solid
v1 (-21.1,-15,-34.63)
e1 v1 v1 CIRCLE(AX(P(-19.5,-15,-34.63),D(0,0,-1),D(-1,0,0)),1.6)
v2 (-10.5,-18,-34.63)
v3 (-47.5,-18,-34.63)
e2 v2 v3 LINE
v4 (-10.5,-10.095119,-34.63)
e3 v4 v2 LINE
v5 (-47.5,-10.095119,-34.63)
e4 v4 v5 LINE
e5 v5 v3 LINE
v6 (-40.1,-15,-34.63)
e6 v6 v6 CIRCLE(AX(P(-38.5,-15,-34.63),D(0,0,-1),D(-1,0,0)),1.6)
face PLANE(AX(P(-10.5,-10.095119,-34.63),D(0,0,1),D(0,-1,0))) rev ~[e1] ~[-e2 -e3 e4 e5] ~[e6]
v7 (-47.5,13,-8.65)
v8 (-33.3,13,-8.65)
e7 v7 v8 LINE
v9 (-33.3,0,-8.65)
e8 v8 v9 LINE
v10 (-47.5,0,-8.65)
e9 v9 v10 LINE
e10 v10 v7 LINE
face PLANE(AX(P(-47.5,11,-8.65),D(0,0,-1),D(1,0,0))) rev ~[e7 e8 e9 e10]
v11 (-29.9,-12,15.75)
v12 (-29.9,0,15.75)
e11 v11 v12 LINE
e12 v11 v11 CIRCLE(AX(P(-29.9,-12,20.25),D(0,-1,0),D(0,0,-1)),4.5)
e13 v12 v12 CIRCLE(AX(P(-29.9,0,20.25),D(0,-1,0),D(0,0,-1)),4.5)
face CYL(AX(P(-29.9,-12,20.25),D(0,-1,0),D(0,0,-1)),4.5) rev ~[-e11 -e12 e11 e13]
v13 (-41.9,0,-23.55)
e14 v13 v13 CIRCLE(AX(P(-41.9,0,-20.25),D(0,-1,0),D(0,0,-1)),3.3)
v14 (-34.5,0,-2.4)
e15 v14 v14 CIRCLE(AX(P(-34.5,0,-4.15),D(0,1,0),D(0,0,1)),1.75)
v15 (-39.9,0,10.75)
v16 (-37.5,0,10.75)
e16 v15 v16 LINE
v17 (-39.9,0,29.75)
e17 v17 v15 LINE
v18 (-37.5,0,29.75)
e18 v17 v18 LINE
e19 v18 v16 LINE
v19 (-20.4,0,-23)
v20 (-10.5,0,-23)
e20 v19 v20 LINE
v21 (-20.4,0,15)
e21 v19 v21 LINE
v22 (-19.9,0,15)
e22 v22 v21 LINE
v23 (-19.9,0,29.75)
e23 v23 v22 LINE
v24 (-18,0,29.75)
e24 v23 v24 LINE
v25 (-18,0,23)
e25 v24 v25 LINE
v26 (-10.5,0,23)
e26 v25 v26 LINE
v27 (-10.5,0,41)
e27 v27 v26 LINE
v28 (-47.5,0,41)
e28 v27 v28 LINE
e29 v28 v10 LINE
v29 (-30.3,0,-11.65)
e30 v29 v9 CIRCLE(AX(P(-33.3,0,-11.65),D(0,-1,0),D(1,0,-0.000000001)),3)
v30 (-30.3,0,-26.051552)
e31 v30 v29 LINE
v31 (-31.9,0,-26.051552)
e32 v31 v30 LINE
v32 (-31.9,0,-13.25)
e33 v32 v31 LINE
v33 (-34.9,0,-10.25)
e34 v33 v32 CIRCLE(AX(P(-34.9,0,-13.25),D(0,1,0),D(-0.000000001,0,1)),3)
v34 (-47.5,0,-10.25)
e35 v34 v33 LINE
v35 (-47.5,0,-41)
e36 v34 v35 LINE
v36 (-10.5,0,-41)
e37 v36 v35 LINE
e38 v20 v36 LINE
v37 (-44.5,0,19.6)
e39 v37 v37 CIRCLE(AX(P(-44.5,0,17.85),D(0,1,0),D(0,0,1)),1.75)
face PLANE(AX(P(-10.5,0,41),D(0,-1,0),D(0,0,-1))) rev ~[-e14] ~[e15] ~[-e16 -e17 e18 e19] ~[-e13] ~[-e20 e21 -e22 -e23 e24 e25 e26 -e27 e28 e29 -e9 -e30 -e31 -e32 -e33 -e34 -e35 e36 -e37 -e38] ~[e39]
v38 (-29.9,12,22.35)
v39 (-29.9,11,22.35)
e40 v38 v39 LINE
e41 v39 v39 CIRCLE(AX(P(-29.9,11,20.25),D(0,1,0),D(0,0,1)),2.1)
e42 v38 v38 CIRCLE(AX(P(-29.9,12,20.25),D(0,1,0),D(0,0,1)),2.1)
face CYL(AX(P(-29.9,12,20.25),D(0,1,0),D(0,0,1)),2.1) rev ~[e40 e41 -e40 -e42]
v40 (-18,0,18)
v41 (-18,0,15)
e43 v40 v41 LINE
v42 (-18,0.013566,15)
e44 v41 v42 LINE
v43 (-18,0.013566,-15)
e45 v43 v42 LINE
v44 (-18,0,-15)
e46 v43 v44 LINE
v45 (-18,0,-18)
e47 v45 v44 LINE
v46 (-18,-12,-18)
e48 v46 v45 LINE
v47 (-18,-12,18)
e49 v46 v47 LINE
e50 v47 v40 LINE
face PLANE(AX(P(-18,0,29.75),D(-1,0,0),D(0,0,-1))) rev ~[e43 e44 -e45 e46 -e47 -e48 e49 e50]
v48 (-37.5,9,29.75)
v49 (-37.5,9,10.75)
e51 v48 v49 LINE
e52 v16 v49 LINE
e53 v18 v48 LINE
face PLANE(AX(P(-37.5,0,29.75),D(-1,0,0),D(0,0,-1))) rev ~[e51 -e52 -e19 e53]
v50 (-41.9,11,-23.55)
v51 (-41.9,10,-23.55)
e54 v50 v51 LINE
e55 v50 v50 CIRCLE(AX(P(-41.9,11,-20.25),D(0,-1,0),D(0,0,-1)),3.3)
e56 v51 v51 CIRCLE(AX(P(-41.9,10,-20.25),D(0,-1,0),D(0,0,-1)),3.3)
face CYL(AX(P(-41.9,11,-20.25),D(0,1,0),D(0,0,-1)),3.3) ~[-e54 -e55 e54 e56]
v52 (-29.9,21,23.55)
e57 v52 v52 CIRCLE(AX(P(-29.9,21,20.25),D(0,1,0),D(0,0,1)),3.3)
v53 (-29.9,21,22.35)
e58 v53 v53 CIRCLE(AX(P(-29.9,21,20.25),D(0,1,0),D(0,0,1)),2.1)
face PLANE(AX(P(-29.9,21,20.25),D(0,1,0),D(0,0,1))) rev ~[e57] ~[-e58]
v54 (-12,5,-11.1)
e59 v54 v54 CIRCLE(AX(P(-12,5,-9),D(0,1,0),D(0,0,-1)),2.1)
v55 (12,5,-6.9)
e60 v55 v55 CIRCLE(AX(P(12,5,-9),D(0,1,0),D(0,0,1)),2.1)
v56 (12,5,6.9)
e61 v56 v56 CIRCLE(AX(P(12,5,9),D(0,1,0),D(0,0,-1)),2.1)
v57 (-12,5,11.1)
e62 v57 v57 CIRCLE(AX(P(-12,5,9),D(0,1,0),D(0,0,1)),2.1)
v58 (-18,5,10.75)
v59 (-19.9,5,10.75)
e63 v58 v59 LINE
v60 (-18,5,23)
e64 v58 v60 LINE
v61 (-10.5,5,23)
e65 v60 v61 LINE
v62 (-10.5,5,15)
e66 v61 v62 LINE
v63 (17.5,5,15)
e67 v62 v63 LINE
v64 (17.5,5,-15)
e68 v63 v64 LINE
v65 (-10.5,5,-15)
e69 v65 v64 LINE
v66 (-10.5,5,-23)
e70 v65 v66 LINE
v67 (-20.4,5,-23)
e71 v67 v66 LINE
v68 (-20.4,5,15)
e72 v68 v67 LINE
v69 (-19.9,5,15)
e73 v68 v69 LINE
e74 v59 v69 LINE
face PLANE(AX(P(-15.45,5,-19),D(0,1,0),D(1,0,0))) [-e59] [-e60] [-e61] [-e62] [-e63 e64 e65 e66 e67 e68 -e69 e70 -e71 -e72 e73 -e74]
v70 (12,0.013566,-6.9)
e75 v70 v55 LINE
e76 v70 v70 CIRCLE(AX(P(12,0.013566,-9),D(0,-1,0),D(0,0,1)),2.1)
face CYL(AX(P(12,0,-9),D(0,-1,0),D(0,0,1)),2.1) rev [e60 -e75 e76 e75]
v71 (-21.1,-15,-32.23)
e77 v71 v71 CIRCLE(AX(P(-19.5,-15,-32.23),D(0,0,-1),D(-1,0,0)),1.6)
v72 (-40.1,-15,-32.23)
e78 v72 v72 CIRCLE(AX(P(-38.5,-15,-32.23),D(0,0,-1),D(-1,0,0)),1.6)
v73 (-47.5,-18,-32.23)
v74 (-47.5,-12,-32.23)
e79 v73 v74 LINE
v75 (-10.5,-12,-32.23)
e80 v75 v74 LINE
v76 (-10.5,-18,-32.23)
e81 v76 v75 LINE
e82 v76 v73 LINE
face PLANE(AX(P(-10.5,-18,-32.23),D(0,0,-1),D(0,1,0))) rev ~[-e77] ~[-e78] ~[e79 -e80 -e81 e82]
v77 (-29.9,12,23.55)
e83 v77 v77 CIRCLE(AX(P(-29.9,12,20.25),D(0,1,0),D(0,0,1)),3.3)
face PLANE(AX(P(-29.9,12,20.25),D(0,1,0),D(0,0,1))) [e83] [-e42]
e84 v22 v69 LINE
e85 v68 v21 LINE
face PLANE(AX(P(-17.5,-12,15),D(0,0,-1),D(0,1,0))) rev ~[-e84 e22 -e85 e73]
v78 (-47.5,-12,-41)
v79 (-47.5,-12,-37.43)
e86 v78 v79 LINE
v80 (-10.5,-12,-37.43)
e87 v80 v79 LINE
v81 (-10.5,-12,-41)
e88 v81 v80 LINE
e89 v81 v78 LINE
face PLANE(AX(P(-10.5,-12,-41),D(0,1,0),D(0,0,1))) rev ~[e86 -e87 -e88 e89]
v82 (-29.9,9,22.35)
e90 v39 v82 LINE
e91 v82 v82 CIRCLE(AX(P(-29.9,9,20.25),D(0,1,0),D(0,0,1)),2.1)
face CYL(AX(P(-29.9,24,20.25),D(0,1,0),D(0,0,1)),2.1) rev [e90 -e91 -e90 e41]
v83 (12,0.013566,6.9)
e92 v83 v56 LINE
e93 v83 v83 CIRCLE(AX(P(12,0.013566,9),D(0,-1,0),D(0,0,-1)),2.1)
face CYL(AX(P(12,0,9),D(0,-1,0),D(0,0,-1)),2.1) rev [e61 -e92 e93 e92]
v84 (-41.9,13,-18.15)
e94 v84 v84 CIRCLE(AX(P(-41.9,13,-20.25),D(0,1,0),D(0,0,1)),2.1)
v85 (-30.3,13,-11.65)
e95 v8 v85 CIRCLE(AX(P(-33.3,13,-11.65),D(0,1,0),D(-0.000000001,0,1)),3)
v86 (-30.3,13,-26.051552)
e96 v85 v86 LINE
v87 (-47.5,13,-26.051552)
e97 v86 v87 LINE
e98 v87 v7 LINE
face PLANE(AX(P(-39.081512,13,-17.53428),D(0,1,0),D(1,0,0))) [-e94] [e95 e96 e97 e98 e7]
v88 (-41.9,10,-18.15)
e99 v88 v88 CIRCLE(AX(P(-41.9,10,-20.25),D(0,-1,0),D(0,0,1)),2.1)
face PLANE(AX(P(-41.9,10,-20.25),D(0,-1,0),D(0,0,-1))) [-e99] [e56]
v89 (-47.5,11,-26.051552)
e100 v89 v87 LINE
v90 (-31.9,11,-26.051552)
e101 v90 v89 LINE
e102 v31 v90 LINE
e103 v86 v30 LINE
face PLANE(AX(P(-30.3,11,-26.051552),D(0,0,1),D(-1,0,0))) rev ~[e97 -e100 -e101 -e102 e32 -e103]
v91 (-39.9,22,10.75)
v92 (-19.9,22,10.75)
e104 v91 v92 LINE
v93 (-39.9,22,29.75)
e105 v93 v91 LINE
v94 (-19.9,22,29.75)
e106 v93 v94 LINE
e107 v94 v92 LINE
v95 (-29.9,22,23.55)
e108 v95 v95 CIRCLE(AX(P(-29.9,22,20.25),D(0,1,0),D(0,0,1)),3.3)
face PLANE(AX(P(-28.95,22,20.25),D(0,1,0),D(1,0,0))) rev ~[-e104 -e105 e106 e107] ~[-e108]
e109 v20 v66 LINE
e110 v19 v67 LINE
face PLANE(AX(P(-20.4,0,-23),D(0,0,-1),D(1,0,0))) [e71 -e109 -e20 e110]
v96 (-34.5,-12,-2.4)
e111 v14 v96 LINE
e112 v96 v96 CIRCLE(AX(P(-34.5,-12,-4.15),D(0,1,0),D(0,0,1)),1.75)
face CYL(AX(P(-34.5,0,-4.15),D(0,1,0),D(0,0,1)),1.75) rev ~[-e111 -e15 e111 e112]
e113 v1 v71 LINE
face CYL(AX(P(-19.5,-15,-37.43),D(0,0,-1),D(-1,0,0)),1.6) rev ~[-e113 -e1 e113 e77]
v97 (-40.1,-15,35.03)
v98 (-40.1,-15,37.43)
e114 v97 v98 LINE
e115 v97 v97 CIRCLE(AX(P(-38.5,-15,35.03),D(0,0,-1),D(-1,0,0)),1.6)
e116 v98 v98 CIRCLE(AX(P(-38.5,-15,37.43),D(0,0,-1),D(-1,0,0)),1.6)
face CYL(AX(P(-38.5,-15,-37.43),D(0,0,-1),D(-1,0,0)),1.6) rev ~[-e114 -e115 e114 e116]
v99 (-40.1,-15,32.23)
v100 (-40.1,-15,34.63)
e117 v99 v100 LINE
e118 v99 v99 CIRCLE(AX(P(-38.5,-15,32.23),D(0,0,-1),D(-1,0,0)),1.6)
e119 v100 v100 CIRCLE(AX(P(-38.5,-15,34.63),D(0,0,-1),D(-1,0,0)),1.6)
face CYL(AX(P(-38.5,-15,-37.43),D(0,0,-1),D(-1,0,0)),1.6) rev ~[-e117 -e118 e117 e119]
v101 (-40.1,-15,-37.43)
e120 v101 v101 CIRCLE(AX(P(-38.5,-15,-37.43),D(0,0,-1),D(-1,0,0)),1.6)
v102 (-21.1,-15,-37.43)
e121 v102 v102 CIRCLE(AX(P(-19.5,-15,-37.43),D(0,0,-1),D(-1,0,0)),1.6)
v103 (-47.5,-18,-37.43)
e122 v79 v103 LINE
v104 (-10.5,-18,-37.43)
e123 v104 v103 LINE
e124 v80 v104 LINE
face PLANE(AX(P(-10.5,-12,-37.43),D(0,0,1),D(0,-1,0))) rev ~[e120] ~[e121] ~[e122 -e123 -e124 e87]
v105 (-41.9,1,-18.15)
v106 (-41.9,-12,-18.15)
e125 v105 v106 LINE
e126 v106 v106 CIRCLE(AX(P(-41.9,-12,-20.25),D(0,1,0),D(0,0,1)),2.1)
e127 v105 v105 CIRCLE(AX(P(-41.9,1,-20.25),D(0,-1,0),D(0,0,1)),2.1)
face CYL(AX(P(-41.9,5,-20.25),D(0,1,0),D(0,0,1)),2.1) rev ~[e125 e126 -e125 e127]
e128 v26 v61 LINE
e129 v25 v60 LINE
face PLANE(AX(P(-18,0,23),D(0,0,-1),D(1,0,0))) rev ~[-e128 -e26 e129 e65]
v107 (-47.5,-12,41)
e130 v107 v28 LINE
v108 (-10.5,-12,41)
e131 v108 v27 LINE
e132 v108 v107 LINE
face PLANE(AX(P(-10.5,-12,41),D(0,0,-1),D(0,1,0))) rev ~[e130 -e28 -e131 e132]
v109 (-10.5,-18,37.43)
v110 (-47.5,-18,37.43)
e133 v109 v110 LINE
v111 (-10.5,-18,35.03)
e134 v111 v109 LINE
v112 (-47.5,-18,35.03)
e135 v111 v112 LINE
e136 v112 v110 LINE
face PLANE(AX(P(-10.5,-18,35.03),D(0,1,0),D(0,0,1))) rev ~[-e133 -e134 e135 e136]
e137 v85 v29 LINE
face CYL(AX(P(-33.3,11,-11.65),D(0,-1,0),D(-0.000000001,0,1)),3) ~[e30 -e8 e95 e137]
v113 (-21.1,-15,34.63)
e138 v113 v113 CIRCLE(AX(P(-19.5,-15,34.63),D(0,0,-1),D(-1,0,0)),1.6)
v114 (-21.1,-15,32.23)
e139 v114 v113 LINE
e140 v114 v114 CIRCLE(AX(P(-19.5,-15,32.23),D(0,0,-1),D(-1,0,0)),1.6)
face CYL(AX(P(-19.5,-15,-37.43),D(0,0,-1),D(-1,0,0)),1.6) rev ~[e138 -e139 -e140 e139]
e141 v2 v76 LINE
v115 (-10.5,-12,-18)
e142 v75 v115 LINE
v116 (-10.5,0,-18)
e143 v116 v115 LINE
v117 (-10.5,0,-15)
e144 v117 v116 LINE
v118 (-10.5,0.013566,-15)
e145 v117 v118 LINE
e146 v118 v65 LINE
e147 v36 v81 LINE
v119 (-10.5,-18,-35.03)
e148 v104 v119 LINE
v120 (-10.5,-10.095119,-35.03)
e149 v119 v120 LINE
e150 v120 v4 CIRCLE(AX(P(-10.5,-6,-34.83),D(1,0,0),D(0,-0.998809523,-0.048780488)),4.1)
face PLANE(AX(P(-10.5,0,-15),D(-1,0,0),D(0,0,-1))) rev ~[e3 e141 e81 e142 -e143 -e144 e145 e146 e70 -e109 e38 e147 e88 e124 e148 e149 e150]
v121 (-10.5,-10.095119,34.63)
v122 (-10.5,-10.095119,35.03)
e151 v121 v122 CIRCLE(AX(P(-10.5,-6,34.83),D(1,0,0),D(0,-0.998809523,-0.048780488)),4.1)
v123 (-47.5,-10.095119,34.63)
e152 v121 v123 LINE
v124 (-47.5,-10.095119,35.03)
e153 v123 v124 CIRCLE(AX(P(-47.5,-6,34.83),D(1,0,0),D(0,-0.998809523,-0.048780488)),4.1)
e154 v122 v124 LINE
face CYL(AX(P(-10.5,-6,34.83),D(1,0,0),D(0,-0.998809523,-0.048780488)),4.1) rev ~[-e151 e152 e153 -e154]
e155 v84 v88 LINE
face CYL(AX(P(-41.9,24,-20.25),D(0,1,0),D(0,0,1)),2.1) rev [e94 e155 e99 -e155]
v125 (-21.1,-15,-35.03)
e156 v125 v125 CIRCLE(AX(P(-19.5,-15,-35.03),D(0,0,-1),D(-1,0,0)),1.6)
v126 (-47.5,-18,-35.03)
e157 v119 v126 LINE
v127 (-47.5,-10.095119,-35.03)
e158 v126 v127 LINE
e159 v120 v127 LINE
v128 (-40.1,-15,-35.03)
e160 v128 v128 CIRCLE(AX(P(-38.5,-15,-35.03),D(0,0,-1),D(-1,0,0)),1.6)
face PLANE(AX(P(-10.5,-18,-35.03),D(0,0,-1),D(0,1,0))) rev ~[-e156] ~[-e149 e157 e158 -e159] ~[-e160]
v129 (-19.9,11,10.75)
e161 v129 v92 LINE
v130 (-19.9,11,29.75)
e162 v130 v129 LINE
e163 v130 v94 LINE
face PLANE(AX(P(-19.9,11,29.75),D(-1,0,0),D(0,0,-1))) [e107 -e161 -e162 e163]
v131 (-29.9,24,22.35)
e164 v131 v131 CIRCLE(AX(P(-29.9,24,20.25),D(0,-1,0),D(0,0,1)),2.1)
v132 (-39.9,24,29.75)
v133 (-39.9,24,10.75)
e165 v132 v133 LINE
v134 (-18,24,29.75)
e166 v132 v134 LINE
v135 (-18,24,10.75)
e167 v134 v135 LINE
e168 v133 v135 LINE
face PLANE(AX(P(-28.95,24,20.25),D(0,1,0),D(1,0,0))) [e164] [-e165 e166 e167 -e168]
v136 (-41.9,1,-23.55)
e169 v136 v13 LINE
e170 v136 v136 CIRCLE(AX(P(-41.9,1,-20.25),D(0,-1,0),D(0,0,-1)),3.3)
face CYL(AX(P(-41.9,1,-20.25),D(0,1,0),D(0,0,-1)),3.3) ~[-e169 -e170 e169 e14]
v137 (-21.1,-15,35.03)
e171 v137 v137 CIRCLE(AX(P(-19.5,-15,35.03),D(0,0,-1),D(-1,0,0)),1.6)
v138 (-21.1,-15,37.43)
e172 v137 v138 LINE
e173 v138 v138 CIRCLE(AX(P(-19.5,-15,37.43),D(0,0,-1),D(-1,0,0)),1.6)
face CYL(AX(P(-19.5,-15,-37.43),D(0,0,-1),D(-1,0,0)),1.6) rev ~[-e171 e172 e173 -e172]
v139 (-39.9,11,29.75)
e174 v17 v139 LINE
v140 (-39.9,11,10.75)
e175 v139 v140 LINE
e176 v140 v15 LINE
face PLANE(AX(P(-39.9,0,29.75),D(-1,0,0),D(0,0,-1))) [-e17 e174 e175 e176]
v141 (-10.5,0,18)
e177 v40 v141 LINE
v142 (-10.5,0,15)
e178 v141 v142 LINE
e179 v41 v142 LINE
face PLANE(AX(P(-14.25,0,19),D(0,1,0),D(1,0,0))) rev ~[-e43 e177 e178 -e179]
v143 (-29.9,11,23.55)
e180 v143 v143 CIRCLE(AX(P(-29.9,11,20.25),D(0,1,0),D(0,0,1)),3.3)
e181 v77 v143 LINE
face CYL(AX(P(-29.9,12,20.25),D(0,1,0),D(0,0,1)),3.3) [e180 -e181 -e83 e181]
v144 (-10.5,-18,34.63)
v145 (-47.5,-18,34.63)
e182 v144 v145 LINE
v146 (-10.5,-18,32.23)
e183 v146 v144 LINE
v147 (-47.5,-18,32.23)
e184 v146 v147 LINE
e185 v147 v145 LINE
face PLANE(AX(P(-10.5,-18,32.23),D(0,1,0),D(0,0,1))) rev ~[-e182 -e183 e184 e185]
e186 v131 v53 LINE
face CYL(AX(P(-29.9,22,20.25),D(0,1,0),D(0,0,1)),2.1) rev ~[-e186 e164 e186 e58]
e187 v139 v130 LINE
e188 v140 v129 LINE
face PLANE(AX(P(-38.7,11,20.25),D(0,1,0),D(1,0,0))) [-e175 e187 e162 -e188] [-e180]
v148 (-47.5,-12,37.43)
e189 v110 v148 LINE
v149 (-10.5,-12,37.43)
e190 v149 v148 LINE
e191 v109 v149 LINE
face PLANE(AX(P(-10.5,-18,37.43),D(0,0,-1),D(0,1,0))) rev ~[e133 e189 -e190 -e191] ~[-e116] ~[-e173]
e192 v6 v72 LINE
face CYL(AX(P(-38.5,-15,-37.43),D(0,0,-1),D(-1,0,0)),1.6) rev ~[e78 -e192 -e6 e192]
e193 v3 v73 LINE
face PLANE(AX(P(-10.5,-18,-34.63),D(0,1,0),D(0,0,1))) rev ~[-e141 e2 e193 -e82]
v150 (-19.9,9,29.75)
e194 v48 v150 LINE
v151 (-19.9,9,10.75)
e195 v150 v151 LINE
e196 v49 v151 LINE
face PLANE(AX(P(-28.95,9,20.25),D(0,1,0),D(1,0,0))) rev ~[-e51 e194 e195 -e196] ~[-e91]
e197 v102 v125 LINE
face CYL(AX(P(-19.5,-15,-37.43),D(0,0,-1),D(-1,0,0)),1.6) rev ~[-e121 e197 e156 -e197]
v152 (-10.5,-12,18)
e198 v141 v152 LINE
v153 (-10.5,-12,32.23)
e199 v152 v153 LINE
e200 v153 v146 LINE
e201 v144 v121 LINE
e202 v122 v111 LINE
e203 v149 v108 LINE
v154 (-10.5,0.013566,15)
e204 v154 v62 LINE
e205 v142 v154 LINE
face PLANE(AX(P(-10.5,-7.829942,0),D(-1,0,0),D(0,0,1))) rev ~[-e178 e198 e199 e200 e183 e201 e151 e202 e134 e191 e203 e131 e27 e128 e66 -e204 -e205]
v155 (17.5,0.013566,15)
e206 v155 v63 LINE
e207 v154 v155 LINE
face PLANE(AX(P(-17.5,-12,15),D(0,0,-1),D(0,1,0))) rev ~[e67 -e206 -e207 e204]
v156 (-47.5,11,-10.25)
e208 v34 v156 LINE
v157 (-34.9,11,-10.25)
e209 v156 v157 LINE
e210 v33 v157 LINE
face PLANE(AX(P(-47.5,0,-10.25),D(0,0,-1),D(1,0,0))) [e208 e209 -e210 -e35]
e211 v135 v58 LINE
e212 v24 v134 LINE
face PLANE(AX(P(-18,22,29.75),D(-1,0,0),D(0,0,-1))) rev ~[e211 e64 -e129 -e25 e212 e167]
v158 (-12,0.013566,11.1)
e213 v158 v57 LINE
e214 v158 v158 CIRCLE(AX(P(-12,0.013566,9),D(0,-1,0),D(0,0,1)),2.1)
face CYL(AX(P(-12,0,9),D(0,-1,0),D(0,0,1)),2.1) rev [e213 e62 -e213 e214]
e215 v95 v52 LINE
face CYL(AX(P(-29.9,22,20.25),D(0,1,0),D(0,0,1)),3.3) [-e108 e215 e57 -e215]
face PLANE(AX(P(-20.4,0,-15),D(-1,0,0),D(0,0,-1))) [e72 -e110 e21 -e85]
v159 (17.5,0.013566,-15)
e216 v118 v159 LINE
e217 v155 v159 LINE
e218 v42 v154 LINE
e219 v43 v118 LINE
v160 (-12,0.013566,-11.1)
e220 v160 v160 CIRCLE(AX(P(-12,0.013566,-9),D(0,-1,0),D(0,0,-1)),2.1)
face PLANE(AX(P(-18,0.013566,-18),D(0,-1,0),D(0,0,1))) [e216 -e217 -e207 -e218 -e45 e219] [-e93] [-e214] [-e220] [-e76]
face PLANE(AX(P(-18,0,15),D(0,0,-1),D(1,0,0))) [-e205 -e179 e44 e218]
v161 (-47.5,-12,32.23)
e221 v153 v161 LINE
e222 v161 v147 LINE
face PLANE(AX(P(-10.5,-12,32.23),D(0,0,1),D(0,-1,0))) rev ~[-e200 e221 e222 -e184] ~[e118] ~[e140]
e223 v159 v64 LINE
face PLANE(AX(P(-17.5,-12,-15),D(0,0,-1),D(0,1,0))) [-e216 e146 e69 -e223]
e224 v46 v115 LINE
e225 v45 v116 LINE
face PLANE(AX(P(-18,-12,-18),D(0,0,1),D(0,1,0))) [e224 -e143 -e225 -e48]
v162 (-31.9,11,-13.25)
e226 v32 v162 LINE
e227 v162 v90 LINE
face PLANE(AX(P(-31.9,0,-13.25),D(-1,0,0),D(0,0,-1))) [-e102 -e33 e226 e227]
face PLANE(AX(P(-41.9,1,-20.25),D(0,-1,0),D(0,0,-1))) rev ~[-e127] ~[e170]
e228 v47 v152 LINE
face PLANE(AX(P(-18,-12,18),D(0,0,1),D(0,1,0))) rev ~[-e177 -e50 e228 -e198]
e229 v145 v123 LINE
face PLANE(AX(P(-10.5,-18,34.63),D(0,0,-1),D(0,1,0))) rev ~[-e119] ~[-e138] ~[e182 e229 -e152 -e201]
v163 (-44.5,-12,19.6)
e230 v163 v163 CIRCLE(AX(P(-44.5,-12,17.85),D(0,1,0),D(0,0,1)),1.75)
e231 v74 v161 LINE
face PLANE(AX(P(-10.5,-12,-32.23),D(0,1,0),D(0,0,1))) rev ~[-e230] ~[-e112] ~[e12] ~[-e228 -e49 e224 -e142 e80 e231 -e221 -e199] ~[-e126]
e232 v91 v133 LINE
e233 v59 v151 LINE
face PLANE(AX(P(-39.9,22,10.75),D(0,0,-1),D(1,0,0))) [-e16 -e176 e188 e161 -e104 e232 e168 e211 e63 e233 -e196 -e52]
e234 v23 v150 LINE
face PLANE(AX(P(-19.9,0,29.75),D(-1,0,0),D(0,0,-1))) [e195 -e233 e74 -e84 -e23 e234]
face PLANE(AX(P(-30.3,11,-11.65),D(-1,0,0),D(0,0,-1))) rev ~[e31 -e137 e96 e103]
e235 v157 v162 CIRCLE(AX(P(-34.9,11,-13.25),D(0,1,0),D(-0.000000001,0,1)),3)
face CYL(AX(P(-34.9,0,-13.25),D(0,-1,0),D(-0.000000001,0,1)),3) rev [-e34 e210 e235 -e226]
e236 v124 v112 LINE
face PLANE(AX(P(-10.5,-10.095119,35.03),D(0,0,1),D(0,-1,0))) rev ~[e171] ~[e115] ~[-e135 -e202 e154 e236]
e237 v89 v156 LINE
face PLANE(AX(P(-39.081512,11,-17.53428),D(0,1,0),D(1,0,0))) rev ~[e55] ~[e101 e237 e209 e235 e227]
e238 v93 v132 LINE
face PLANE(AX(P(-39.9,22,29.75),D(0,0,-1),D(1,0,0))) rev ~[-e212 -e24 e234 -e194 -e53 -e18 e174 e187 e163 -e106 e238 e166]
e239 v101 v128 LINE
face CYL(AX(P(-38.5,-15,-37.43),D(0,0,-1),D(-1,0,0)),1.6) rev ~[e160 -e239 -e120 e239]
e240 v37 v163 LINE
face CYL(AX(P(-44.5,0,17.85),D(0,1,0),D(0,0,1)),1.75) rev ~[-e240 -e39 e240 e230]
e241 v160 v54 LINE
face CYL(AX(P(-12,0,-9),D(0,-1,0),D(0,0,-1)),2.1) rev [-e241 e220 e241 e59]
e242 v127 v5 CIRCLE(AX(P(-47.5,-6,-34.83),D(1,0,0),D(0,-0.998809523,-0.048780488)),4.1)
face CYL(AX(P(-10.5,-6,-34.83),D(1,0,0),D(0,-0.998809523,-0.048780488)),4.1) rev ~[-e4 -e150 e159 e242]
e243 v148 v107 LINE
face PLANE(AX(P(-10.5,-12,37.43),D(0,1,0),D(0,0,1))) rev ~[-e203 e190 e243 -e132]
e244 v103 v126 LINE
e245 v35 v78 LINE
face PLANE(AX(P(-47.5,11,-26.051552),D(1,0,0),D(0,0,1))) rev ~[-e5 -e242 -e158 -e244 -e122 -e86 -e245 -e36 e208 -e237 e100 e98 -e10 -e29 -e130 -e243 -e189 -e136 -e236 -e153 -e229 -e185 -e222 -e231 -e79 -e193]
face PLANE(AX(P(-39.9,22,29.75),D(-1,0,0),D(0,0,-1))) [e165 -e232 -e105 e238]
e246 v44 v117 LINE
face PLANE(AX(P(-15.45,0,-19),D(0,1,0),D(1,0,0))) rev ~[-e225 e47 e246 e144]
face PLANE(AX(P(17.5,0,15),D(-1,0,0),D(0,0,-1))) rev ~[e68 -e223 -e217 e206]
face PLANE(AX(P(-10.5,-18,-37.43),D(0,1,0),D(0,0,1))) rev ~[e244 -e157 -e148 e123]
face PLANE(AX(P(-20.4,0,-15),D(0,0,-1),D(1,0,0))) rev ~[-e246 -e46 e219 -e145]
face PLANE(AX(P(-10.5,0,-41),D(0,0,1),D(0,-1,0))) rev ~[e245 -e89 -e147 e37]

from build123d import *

# Parameters (mm, degrees)
SKETCH1_W            = 35
SKETCH1_H            = 30
SKETCH1_R            = 2.1
BOSS_EXTRUDE1_DEPTH  = 5
SKETCH2_W            = 30
SKETCH2_H            = 17
BOSS_EXTRUDE2_DEPTH  = 5
BOSS_EXTRUDE3_START  = -28
BOSS_EXTRUDE3_DEPTH  = 37
CUT_EXTRUDE1_REACH   = 66.542
CUT_EXTRUDE1_START   = -4.5
SKETCH5_W            = 36
SKETCH5_H            = 12.013565991
SKETCH6_W            = 2.1
SKETCH6_H            = 35.25
CUT_EXTRUDE2_DEPTH   = 5
SKETCH7_R            = 2.1
CUT_EXTRUDE3_DEPTH   = 17
SKETCH8_W            = 1.9
SKETCH8_H            = 19
SKETCH8_W_2          = 2.4
BOSS_EXTRUDE4_DEPTH  = 11
SKETCH9_W            = 9.9
SKETCH9_H            = 8
SKETCH9_W_2          = 7.5
BOSS_EXTRUDE5_DEPTH  = 5
BOSS_EXTRUDE6_DEPTH  = 2
BOSS_EXTRUDE7_START  = -13
SKETCH12_R           = 3.3
SKETCH12_R_2         = 2.1
BOSS_EXTRUDE7_DEPTH  = 1
BOSS_EXTRUDE8_START  = -23
SKETCH12_2_R         = 3.3
SKETCH12_2_R_2       = 2.1
BOSS_EXTRUDE8_DEPTH  = 1
SKETCH13_W           = 21.9
SKETCH13_H           = 19
BOSS_EXTRUDE9_DEPTH  = 2
SKETCH14_W           = 1.9
SKETCH14_H           = 19
BOSS_EXTRUDE10_DEPTH = 11
SKETCH15_W           = 21.9
SKETCH15_H           = 19
BOSS_EXTRUDE11_DEPTH = 2
CUT_EXTRUDE4_START   = -36
SKETCH16_R           = 2.1
CUT_EXTRUDE4_DEPTH   = 36
BOSS_EXTRUDE12_START = -2
SKETCH17_R           = 3.3
SKETCH17_R_2         = 2.1
BOSS_EXTRUDE12_DEPTH = 1
BOSS_EXTRUDE13_START = -12
SKETCH17_2_R         = 3.3
SKETCH17_2_R_2       = 2.1
BOSS_EXTRUDE13_DEPTH = 1
CUT_EXTRUDE5_REACH   = 74.341
SKETCH19_R           = 4.5
CUT_EXTRUDE6_REACH   = 69.181
SKETCH20_R           = 1.75
SKETCH21_R           = 1.6
CUT_EXTRUDE7_DEPTH   = 95.781405877


with BuildPart() as part:
    # Sketch1 → Boss-Extrude1 (new body)
    with BuildSketch(Plane(origin=(0, 0, 0), x_dir=(1, 0, 0), z_dir=(0, 1, 0))):
        Rectangle(SKETCH1_W, SKETCH1_H)
        with Locations(Location((12, 9, 0), (0, 0, 270))):
            Circle(SKETCH1_R, mode=Mode.SUBTRACT)
        with Locations(Location((12, -9, 0), (0, 0, 90))):
            Circle(SKETCH1_R, mode=Mode.SUBTRACT)
        with Locations(Location((-12, -9, 0), (0, 0, 270))):
            Circle(SKETCH1_R, mode=Mode.SUBTRACT)
        with Locations(Location((-12, 9, 0), (0, 0, 90))):
            Circle(SKETCH1_R, mode=Mode.SUBTRACT)
    extrude(amount=BOSS_EXTRUDE1_DEPTH)

    # Sketch2 → Boss-Extrude2 (add)
    with BuildSketch(Plane.ZY.offset(17.5)):
        with Locations((0, -3.5)):
            Rectangle(SKETCH2_W, SKETCH2_H)
    extrude(amount=BOSS_EXTRUDE2_DEPTH)

    # Sketch3 → Boss-Extrude3 (add)
    with BuildSketch(Plane(origin=(17.5, 0, 0), x_dir=(0, 0, -1), z_dir=(1, 0, 0)).offset(BOSS_EXTRUDE3_START)):
        with BuildLine():
            Line((-41, 0), (41, 0))
            Line((41, 0), (41, -12))
            Line((41, -12), (37.43, -12))
            Line((37.43, -12), (37.43, -18))
            Line((37.43, -18), (35.03, -18))
            Line((35.03, -18), (35.03, -12))
            Line((35.03, -12), (35.03, -10.095119046))
            ThreePointArc((35.03, -10.095119046), (34.83, -1.9), (34.63, -10.095119046))
            Line((34.63, -10.095119046), (34.63, -12))
            Line((34.63, -12), (34.63, -18))
            Line((34.63, -18), (32.23, -18))
            Line((32.23, -18), (32.23, -12))
            Line((32.23, -12), (-32.23, -12))
            Line((-32.23, -12), (-32.23, -18))
            Line((-32.23, -18), (-34.63, -18))
            Line((-34.63, -18), (-34.63, -12))
            Line((-34.63, -12), (-34.63, -10.095119046))
            ThreePointArc((-34.63, -10.095119046), (-34.83, -1.9), (-35.03, -10.095119046))
            Line((-35.03, -10.095119046), (-35.03, -12))
            Line((-35.03, -12), (-35.03, -18))
            Line((-35.03, -18), (-37.43, -18))
            Line((-37.43, -18), (-37.43, -12))
            Line((-37.43, -12), (-41, -12))
            Line((-41, -12), (-41, 0))
        make_face()
    extrude(amount=-BOSS_EXTRUDE3_DEPTH)

    # Sketch5 → Cut-Extrude1 (cut, up to next)
    with BuildSketch(Plane.ZY.offset(22.5).offset(CUT_EXTRUDE1_START), mode=Mode.PRIVATE) as cut_extrude1_sk1:
        with Locations((0, -5.993217004)):
            Rectangle(SKETCH5_W, SKETCH5_H)
    cut_extrude1_tool1 = extrude(cut_extrude1_sk1.sketch, amount=-CUT_EXTRUDE1_REACH, mode=Mode.PRIVATE) & part.part
    add(cut_extrude1_tool1.solids().sort_by_distance((-18, -5.993217, 0))[0], mode=Mode.SUBTRACT)

    # Sketch6 → Cut-Extrude2 (cut)
    with BuildSketch(Plane(origin=(0, 5, 0), x_dir=(1, 0, 0), z_dir=(0, 1, 0))):
        with Locations((-21.45, -2.625)):
            Rectangle(SKETCH6_W, SKETCH6_H)
    extrude(amount=-CUT_EXTRUDE2_DEPTH, mode=Mode.SUBTRACT)

    # Sketch7 → Cut-Extrude3 (cut)
    with BuildSketch(Plane(origin=(0, 5, 0), x_dir=(1, 0, 0), z_dir=(0, 1, 0))):
        with Locations(Location((-29.9, -20.25, 0), (0, 0, 270))):
            Circle(SKETCH7_R)
        with Locations(Location((-41.9, 20.25, 0), (0, 0, 270))):
            Circle(SKETCH7_R)
    extrude(amount=-CUT_EXTRUDE3_DEPTH, mode=Mode.SUBTRACT)

    # Sketch8 → Boss-Extrude4 (add)
    with BuildSketch(Plane(origin=(0, 0, 0), x_dir=(1, 0, 0), z_dir=(0, 1, 0))):
        with BuildLine():
            Line((-47.5, 10.25), (-34.9, 10.25))
            ThreePointArc((-34.9, 10.25), (-32.778679656, 11.128679656), (-31.9, 13.25))
            Line((-31.9, 13.25), (-31.9, 26.051552427))
            Line((-31.9, 26.051552427), (-30.3, 26.051552427))
            Line((-30.3, 26.051552427), (-30.3, 11.65))
            ThreePointArc((-30.3, 11.65), (-31.178679656, 9.528679656), (-33.3, 8.65))
            Line((-33.3, 8.65), (-47.5, 8.65))
            Line((-47.5, 8.65), (-47.5, 10.25))
        make_face()
        with Locations((-18.95, -20.25)):
            Rectangle(SKETCH8_W, SKETCH8_H)
        with Locations((-38.7, -20.25)):
            Rectangle(SKETCH8_W_2, SKETCH8_H)
    extrude(amount=BOSS_EXTRUDE4_DEPTH)

    # Sketch9 → Boss-Extrude5 (add)
    with BuildSketch(Plane(origin=(0, 0, 0), x_dir=(1, 0, 0), z_dir=(0, 1, 0))):
        with Locations((-15.45, 19)):
            Rectangle(SKETCH9_W, SKETCH9_H)
        with Locations((-14.25, -19)):
            Rectangle(SKETCH9_W_2, SKETCH9_H)
    extrude(amount=BOSS_EXTRUDE5_DEPTH)

    # Sketch10 → Boss-Extrude6 (add)
    with BuildSketch(Plane(origin=(0, 11, 0), x_dir=(1, 0, 0), z_dir=(0, 1, 0))):
        with BuildLine():
            Line((-30.3, 26.051552427), (-47.5, 26.051552427))
            Line((-47.5, 26.051552427), (-47.5, 8.65))
            Line((-47.5, 8.65), (-33.3, 8.65))
            ThreePointArc((-33.3, 8.65), (-31.178679656, 9.528679656), (-30.3, 11.65))
            Line((-30.3, 11.65), (-30.3, 26.051552427))
        make_face()
    extrude(amount=BOSS_EXTRUDE6_DEPTH)

    # Sketch12 → Boss-Extrude7 (add)
    with BuildSketch(Plane.XZ.offset(12).offset(BOSS_EXTRUDE7_START)):
        with Locations(Location((-41.9, -20.25, 0), (0, 0, 270))):
            Circle(SKETCH12_R)
        with Locations(Location((-41.9, -20.25, 0), (0, 0, 90))):
            Circle(SKETCH12_R_2, mode=Mode.SUBTRACT)
    extrude(amount=BOSS_EXTRUDE7_DEPTH)

    # Sketch12<2> → Boss-Extrude8 (add)
    with BuildSketch(Plane.XZ.offset(12).offset(BOSS_EXTRUDE8_START)):
        with Locations(Location((-41.9, -20.25, 0), (0, 0, 270))):
            Circle(SKETCH12_2_R)
        with Locations(Location((-41.9, -20.25, 0), (0, 0, 90))):
            Circle(SKETCH12_2_R_2, mode=Mode.SUBTRACT)
    extrude(amount=BOSS_EXTRUDE8_DEPTH)

    # Sketch13 → Boss-Extrude9 (add)
    with BuildSketch(Plane(origin=(0, 11, 0), x_dir=(1, 0, 0), z_dir=(0, 1, 0))):
        with Locations((-28.95, -20.25)):
            Rectangle(SKETCH13_W, SKETCH13_H)
    extrude(amount=-BOSS_EXTRUDE9_DEPTH)

    # Sketch14 → Boss-Extrude10 (add)
    with BuildSketch(Plane(origin=(0, 11, 0), x_dir=(1, 0, 0), z_dir=(0, 1, 0))):
        with Locations((-18.95, -20.25)):
            Rectangle(SKETCH14_W, SKETCH14_H)
    extrude(amount=BOSS_EXTRUDE10_DEPTH)

    # Sketch15 → Boss-Extrude11 (add)
    with BuildSketch(Plane(origin=(0, 22, 0), x_dir=(1, 0, 0), z_dir=(0, 1, 0))):
        with Locations((-28.95, -20.25)):
            Rectangle(SKETCH15_W, SKETCH15_H)
    extrude(amount=BOSS_EXTRUDE11_DEPTH)

    # Sketch16 → Cut-Extrude4 (cut)
    with BuildSketch(Plane.XZ.offset(12).offset(CUT_EXTRUDE4_START)):
        with Locations(Location((-29.9, 20.25, 0), (0, 0, 90))):
            Circle(SKETCH16_R)
        with Locations(Location((-41.9, -20.25, 0), (0, 0, 90))):
            Circle(SKETCH16_R)
    extrude(amount=CUT_EXTRUDE4_DEPTH, mode=Mode.SUBTRACT)

    # Sketch17 → Boss-Extrude12 (add)
    with BuildSketch(Plane(origin=(0, 24, 0), x_dir=(1, 0, 0), z_dir=(0, 1, 0)).offset(BOSS_EXTRUDE12_START)):
        with Locations(Location((-29.9, -20.25, 0), (0, 0, 270))):
            Circle(SKETCH17_R)
        with Locations(Location((-29.9, -20.25, 0), (0, 0, 270))):
            Circle(SKETCH17_R_2, mode=Mode.SUBTRACT)
    extrude(amount=-BOSS_EXTRUDE12_DEPTH)

    # Sketch17<2> → Boss-Extrude13 (add)
    with BuildSketch(Plane(origin=(0, 24, 0), x_dir=(1, 0, 0), z_dir=(0, 1, 0)).offset(BOSS_EXTRUDE13_START)):
        with Locations(Location((-29.9, -20.25, 0), (0, 0, 270))):
            Circle(SKETCH17_2_R)
        with Locations(Location((-29.9, -20.25, 0), (0, 0, 270))):
            Circle(SKETCH17_2_R_2, mode=Mode.SUBTRACT)
    extrude(amount=-BOSS_EXTRUDE13_DEPTH)

    # Sketch19 → Cut-Extrude5 (cut, up to next)
    with BuildSketch(Plane.XZ.offset(12), mode=Mode.PRIVATE) as cut_extrude5_sk1:
        with Locations(Location((-29.9, 20.25, 0), (0, 0, 270))):
            Circle(SKETCH19_R)
    cut_extrude5_tool1 = extrude(cut_extrude5_sk1.sketch, amount=-CUT_EXTRUDE5_REACH, mode=Mode.PRIVATE) & part.part
    add(cut_extrude5_tool1.solids().sort_by_distance((-29.9, -12, 20.25))[0], mode=Mode.SUBTRACT)

    # Sketch20 → Cut-Extrude6 (cut, up to next)
    with BuildSketch(Plane(origin=(0, 0, 0), x_dir=(1, 0, 0), z_dir=(0, 1, 0)), mode=Mode.PRIVATE) as cut_extrude6_sk1:
        with Locations(Location((-34.5, 4.15, 0), (0, 0, 270))):
            Circle(SKETCH20_R)
    cut_extrude6_tool1 = extrude(cut_extrude6_sk1.sketch, amount=-CUT_EXTRUDE6_REACH, mode=Mode.PRIVATE) & part.part
    # Sketch20 → Cut-Extrude6 (cut, up to next)
    with BuildSketch(Plane(origin=(0, 0, 0), x_dir=(1, 0, 0), z_dir=(0, 1, 0)), mode=Mode.PRIVATE) as cut_extrude6_sk2:
        with Locations(Location((-44.5, -17.85, 0), (0, 0, 270))):
            Circle(SKETCH20_R)
    cut_extrude6_tool2 = extrude(cut_extrude6_sk2.sketch, amount=-CUT_EXTRUDE6_REACH, mode=Mode.PRIVATE) & part.part
    add(cut_extrude6_tool1.solids().sort_by_distance((-34.5, 0, -4.15))[0], mode=Mode.SUBTRACT)
    add(cut_extrude6_tool2.solids().sort_by_distance((-44.5, 0, 17.85))[0], mode=Mode.SUBTRACT)

    # Sketch21 → Cut-Extrude7 (cut, through all)
    with BuildSketch(Plane(origin=(0, 0, -37.43), x_dir=(-1, 0, 0), z_dir=(0, 0, -1))):
        with Locations((19.5, -15)):
            Circle(SKETCH21_R)
        with Locations((38.5, -15)):
            Circle(SKETCH21_R)
    extrude(amount=-CUT_EXTRUDE7_DEPTH, mode=Mode.SUBTRACT)


solid = part.part
